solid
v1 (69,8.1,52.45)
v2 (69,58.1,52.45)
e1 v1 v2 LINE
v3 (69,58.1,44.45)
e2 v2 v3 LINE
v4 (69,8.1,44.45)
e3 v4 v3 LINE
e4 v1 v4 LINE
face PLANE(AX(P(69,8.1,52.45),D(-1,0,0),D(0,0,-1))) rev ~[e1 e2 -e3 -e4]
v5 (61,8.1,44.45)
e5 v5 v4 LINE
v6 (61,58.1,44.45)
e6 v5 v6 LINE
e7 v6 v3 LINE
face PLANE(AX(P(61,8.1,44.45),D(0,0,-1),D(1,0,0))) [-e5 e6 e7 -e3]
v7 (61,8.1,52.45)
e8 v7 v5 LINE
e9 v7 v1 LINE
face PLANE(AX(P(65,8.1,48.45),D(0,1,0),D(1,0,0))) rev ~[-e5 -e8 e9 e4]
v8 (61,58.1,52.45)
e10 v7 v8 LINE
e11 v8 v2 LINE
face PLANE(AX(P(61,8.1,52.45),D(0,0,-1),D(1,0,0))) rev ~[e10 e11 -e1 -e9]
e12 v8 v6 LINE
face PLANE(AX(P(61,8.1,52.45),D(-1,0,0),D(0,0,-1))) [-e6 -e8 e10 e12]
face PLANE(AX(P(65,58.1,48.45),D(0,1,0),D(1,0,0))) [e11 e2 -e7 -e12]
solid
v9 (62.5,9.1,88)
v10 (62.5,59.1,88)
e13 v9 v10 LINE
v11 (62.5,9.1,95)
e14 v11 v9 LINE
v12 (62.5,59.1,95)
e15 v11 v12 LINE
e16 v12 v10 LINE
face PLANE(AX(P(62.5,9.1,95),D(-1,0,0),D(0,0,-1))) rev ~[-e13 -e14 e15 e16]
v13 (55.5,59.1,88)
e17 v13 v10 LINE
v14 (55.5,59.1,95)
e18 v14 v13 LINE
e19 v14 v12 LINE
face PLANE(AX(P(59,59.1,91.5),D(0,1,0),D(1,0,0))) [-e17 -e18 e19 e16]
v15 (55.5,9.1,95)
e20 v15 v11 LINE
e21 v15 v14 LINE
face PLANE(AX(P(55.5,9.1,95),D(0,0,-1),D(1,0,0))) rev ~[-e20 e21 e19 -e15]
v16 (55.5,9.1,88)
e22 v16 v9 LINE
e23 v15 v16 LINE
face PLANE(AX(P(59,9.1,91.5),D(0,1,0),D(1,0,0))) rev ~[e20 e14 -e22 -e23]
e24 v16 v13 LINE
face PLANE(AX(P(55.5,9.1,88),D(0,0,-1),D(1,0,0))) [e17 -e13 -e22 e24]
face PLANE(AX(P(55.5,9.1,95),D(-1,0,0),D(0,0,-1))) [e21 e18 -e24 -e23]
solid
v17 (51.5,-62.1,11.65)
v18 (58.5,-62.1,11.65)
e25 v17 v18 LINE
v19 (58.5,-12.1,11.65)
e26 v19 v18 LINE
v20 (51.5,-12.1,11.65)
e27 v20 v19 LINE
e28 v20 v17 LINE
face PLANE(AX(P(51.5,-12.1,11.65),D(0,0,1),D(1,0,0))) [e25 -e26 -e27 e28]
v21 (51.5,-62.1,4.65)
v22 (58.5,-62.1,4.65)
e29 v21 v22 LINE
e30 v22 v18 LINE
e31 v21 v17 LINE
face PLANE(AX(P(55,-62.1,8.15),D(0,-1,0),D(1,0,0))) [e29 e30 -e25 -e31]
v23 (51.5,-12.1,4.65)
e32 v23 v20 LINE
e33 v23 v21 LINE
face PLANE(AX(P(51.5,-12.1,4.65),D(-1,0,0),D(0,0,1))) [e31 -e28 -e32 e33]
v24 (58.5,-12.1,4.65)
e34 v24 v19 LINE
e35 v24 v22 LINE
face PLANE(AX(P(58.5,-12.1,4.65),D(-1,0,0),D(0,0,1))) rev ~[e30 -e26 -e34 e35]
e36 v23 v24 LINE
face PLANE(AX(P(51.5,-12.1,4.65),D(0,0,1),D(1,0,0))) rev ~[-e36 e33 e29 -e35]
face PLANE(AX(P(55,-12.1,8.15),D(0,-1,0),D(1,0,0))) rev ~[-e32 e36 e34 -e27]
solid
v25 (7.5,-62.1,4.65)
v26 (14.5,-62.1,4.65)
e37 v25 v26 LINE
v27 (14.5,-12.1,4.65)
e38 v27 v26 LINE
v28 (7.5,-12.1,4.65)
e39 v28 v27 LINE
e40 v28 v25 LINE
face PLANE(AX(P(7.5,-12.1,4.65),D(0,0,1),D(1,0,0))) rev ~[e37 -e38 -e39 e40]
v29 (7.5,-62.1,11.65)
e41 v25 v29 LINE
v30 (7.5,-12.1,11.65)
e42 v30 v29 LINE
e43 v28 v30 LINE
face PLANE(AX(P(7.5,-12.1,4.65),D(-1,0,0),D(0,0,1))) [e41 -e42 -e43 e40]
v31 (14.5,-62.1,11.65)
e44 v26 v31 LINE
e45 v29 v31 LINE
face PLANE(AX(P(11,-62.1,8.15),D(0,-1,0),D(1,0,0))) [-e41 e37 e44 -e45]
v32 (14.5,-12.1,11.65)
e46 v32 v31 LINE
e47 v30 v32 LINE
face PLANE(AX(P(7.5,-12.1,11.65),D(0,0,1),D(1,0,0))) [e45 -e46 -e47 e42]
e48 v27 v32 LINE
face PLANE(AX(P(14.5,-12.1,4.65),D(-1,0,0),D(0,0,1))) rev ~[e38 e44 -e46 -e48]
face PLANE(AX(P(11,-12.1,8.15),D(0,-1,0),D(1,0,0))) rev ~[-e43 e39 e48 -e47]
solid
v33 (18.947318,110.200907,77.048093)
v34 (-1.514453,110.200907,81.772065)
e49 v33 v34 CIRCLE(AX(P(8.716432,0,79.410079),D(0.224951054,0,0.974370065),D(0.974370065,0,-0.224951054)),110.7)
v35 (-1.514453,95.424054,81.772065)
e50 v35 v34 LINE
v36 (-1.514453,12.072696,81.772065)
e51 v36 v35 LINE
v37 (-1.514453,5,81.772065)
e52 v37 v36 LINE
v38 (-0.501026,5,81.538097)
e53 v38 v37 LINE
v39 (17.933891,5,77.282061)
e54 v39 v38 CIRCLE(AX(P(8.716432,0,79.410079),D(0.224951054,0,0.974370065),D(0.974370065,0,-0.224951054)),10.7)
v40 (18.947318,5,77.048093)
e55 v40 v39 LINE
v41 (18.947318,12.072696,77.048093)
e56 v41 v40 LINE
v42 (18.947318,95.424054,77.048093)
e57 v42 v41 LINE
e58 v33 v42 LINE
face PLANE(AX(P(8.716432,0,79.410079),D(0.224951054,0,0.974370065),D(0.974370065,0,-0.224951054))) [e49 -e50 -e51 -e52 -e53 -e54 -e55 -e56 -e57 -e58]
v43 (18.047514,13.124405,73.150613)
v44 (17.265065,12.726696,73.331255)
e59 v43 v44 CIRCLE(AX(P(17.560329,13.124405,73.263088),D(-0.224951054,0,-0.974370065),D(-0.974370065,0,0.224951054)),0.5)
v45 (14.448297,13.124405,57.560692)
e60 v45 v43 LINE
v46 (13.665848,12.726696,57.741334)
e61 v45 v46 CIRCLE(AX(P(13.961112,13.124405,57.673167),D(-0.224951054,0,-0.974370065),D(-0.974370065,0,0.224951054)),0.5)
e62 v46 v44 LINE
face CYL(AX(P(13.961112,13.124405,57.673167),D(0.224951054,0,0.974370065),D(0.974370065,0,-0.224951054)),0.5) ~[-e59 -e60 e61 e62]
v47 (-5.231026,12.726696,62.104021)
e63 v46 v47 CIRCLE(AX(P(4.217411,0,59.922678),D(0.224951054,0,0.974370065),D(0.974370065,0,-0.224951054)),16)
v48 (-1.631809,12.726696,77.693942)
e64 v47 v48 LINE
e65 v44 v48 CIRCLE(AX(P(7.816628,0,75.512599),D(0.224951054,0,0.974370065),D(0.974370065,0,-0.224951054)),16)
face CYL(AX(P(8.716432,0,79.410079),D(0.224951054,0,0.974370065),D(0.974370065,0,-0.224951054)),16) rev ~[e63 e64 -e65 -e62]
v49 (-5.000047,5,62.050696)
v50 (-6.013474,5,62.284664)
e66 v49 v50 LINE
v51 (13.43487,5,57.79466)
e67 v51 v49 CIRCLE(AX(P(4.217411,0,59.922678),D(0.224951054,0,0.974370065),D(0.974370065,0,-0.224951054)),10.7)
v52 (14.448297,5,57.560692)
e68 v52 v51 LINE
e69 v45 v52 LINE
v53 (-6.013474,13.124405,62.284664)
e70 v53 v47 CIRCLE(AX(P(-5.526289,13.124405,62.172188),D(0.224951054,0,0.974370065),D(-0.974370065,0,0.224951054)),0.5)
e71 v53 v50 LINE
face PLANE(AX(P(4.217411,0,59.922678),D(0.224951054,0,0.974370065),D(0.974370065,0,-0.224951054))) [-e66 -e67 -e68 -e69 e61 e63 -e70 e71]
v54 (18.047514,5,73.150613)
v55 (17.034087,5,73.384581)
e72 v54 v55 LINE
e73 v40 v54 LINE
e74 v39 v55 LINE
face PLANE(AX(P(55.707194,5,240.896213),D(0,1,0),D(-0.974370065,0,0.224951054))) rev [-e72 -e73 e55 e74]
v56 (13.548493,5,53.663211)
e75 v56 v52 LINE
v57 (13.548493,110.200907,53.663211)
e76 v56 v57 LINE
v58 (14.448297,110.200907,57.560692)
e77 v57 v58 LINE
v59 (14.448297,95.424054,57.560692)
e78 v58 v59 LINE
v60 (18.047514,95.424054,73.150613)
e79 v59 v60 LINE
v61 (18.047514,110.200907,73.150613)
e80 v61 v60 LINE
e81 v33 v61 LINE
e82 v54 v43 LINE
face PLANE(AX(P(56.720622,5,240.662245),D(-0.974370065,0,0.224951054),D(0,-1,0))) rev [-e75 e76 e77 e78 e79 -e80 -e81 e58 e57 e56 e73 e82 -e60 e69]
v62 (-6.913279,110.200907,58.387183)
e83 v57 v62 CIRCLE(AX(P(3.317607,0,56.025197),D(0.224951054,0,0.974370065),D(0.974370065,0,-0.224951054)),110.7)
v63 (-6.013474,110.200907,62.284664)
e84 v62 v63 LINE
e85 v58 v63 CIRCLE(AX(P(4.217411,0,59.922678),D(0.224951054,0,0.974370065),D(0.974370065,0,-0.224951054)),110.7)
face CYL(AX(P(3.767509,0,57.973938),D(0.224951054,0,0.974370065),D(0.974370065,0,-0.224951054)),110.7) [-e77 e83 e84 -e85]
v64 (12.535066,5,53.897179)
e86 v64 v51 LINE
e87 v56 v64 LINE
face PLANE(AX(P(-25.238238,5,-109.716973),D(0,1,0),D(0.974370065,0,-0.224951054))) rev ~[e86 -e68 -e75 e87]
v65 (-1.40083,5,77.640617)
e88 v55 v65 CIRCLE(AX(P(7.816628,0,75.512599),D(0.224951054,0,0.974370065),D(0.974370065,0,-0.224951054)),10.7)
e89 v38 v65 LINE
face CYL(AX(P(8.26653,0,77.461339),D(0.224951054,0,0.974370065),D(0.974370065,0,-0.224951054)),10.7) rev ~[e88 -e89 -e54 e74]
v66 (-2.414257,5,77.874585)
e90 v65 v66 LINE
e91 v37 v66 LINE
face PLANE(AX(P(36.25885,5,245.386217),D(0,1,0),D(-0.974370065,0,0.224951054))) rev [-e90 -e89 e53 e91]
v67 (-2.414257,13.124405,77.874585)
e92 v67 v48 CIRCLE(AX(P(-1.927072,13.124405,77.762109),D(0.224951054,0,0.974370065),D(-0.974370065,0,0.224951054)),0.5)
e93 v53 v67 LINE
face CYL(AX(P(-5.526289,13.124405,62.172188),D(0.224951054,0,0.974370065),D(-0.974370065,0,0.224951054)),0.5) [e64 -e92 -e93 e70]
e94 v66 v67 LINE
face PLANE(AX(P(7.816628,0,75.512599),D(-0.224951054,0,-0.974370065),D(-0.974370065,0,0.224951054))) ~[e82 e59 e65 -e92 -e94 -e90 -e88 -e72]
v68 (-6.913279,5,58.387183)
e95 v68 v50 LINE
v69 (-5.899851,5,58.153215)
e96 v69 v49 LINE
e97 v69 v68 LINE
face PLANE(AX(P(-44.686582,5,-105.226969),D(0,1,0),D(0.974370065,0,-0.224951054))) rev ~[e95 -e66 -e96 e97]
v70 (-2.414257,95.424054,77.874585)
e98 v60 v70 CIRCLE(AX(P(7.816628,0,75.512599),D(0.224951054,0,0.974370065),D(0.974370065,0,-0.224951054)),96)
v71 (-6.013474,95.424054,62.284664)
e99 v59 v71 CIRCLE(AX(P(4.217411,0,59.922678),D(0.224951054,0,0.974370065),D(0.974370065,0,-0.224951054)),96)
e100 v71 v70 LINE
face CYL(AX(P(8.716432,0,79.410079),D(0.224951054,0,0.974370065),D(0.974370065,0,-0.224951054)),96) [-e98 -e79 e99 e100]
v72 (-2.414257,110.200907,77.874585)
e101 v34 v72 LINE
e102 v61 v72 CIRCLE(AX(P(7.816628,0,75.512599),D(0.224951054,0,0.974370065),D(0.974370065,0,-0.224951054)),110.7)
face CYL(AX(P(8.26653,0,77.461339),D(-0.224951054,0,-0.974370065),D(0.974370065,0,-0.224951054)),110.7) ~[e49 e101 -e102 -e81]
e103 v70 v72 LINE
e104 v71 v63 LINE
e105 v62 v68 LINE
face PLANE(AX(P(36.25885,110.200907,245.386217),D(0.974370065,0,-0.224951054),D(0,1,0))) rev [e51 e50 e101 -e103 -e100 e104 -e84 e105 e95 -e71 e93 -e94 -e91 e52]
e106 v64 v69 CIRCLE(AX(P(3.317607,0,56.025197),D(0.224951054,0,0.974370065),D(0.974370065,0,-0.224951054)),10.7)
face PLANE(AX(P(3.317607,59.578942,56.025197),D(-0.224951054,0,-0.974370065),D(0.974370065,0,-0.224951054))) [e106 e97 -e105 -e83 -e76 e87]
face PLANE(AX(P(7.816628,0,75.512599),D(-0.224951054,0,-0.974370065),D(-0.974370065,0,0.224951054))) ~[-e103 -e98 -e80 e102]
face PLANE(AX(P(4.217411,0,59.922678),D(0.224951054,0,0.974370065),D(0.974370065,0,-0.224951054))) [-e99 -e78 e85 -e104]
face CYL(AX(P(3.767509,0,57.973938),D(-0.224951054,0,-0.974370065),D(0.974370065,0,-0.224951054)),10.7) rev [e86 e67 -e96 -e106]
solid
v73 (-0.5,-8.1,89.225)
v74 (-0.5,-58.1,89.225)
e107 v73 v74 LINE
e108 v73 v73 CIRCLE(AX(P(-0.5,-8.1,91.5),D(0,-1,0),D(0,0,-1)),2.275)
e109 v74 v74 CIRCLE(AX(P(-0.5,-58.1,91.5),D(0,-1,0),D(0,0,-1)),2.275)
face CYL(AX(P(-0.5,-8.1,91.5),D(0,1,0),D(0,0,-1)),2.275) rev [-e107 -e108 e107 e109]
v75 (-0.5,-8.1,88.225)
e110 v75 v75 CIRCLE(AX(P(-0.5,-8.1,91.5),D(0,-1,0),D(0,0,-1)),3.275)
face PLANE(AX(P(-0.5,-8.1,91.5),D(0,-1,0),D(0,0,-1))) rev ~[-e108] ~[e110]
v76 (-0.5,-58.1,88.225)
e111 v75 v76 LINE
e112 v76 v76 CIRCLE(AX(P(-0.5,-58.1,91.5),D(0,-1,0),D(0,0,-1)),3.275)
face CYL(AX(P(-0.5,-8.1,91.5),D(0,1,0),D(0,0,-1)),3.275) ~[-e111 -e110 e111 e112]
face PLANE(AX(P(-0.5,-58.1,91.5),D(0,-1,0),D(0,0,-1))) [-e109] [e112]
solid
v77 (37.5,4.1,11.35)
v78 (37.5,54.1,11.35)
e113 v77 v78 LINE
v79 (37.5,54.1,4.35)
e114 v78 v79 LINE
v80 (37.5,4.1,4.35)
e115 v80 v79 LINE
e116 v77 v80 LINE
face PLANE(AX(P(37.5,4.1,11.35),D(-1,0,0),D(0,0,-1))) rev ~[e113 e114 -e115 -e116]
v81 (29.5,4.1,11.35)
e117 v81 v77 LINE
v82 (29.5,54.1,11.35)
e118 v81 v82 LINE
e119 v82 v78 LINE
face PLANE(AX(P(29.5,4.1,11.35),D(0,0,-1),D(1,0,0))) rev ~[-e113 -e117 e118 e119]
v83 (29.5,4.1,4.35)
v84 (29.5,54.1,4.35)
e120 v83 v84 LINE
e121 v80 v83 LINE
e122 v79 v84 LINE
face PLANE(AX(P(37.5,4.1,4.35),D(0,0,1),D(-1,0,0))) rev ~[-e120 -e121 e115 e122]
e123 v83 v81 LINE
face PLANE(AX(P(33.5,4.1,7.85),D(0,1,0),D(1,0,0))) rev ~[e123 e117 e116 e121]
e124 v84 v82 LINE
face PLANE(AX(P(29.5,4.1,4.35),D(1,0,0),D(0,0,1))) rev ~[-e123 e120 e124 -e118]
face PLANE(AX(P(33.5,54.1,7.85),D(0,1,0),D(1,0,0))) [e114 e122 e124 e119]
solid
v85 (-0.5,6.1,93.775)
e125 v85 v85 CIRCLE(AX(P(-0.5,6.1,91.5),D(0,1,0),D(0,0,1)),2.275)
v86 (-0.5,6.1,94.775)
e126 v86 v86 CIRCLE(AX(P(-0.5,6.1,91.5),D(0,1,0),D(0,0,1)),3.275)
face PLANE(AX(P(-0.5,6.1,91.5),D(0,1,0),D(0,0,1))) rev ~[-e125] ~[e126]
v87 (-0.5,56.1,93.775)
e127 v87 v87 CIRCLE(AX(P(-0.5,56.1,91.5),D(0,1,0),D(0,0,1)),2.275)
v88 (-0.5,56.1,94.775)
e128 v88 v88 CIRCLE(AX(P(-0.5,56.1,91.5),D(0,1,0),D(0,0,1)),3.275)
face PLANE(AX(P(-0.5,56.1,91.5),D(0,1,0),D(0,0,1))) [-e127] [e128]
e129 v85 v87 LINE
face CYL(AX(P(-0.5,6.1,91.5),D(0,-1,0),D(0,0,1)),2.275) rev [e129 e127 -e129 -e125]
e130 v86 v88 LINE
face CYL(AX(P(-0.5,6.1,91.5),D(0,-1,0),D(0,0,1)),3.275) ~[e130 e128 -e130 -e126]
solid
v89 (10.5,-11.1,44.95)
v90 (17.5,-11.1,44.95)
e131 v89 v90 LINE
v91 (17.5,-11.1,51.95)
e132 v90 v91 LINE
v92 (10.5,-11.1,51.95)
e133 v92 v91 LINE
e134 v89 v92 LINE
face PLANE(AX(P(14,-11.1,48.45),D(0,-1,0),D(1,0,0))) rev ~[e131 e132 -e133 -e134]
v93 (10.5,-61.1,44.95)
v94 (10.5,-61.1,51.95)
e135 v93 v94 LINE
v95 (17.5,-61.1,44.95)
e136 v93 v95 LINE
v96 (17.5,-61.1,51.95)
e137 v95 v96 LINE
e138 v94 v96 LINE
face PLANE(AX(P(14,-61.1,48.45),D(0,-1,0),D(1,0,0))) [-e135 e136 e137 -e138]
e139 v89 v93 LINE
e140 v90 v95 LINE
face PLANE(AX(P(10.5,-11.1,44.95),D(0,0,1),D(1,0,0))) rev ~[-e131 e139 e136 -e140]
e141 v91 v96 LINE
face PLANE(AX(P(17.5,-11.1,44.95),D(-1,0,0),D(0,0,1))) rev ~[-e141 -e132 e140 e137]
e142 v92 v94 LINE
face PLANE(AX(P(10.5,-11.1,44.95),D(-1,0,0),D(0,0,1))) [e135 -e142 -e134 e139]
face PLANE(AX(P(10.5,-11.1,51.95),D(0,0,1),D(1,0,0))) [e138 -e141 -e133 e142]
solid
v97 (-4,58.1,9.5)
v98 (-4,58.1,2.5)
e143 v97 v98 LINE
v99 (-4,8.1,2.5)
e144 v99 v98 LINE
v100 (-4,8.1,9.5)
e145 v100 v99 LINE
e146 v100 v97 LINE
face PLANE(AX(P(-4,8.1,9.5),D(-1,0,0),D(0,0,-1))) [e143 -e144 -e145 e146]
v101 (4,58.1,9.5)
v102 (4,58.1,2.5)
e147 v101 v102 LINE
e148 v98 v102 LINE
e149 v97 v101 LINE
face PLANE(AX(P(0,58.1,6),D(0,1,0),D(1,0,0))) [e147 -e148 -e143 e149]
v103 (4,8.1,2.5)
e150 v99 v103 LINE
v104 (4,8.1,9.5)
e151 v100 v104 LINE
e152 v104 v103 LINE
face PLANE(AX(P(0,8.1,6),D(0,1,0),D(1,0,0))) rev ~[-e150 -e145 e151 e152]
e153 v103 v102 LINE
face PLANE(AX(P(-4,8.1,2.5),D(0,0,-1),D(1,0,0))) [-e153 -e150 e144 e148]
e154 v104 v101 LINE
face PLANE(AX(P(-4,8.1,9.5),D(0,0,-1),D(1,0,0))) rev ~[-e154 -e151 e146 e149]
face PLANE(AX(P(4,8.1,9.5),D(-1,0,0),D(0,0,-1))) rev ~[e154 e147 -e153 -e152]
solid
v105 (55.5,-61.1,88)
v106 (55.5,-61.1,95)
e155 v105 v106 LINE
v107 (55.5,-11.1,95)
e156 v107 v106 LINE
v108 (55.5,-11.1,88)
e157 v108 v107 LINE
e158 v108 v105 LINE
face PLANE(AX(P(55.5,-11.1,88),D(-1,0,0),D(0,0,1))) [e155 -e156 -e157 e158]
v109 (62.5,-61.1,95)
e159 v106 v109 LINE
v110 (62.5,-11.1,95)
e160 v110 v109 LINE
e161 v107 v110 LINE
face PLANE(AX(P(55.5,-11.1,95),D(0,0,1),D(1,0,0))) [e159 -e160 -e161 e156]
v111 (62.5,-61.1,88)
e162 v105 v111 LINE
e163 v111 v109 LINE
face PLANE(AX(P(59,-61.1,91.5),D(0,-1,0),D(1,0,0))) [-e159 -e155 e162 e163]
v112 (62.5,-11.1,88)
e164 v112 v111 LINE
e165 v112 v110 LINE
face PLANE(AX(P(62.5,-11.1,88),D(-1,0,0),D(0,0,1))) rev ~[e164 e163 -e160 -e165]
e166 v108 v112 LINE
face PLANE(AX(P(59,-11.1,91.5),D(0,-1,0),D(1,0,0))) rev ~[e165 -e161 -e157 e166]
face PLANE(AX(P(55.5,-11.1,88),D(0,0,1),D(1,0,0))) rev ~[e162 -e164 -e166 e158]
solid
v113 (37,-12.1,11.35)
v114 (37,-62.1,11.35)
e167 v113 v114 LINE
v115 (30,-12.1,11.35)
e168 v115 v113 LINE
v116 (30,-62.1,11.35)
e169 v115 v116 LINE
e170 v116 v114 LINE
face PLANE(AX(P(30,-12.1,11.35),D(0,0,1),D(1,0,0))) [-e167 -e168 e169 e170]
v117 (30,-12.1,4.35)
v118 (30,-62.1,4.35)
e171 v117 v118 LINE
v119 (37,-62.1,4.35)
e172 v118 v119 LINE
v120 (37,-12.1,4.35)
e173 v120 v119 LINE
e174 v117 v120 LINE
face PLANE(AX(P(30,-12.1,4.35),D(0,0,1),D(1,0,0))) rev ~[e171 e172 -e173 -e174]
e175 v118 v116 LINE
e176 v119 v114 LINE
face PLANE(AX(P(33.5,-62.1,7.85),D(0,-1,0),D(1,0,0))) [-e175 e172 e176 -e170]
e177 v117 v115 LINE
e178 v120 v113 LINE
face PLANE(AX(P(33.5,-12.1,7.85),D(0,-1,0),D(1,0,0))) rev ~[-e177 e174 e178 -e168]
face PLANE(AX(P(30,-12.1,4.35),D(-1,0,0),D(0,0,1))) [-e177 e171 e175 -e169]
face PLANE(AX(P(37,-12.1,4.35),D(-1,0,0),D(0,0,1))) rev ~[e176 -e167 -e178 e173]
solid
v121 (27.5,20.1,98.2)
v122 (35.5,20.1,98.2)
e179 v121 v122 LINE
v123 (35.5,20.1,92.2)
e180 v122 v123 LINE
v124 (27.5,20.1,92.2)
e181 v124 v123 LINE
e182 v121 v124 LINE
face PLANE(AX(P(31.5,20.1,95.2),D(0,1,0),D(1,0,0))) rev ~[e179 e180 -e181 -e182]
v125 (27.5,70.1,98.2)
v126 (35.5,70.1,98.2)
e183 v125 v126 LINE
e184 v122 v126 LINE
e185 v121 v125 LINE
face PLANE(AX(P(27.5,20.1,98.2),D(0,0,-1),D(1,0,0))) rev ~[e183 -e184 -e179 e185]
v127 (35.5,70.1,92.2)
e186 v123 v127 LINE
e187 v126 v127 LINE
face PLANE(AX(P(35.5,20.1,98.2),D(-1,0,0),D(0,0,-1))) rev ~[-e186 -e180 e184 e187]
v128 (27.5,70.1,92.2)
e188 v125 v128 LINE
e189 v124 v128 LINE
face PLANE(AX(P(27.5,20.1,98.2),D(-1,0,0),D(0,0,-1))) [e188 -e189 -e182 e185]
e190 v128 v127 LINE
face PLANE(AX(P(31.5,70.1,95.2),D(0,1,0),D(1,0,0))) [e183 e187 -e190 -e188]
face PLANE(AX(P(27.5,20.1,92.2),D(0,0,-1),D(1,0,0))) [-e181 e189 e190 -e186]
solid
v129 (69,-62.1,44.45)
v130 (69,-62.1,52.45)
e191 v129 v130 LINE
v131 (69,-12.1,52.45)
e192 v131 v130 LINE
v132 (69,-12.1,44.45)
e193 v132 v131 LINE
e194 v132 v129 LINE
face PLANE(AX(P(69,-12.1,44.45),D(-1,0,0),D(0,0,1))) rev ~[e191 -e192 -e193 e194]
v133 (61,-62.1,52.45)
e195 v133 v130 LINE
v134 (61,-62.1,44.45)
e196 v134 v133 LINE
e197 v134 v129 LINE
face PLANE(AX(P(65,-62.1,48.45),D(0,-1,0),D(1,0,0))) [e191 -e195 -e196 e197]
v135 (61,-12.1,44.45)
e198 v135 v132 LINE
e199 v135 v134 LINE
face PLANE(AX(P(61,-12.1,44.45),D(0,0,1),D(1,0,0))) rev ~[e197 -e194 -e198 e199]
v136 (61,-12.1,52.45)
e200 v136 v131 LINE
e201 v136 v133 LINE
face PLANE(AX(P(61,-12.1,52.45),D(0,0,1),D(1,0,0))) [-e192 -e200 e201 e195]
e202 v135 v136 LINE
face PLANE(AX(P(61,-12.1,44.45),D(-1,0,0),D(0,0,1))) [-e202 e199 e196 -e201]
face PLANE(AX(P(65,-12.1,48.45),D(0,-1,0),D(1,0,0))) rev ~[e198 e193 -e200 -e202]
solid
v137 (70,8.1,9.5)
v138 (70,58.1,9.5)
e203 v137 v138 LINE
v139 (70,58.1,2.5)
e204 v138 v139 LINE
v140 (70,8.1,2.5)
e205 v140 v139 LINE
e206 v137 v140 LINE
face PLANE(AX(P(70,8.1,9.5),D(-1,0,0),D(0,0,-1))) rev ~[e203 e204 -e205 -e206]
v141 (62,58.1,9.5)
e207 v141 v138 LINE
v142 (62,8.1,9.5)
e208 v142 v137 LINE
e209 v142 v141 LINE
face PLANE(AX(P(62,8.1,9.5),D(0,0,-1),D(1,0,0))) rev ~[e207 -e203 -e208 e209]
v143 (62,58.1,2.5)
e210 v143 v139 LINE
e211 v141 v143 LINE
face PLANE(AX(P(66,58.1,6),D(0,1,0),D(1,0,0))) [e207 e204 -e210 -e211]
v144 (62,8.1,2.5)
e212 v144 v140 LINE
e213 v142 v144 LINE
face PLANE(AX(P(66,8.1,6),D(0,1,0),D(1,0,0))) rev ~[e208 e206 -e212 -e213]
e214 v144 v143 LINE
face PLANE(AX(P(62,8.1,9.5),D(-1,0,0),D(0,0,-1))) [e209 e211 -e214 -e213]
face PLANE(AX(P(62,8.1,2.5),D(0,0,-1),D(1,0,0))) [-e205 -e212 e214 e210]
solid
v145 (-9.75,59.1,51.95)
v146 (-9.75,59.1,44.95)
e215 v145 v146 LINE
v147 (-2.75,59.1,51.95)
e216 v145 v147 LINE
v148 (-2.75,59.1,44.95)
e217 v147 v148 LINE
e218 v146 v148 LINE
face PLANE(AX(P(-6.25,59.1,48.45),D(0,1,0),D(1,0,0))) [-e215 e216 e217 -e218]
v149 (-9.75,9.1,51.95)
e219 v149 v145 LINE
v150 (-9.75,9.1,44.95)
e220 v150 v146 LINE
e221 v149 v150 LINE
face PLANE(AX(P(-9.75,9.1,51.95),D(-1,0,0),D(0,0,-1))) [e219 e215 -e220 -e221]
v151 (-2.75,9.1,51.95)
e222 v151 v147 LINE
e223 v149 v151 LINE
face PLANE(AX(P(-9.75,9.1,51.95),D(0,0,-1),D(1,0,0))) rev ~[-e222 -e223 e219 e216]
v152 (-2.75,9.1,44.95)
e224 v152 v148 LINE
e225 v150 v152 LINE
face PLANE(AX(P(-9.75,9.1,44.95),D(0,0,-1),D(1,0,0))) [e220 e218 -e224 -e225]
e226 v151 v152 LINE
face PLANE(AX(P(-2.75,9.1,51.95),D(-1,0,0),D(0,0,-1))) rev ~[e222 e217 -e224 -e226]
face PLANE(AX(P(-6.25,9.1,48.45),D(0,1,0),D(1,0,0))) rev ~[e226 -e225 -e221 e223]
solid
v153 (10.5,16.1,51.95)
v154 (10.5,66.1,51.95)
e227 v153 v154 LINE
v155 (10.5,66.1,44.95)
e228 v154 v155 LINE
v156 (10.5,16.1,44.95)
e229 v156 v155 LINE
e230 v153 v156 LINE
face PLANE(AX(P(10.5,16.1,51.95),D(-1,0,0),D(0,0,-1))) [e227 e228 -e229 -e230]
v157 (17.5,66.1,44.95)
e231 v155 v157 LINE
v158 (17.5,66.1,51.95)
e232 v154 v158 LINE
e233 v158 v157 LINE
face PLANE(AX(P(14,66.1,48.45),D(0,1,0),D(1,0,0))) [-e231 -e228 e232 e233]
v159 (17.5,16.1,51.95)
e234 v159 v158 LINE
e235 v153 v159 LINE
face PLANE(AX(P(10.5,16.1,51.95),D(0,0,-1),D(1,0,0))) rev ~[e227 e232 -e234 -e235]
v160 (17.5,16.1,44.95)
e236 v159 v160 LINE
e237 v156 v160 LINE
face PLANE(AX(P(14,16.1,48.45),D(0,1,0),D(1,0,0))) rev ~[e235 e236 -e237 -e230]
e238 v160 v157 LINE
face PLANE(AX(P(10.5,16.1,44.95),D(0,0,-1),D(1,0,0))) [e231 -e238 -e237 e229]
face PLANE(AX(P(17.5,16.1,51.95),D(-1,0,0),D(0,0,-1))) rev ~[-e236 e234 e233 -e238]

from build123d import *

# Parameters (mm, degrees)
BOSS_EXTRUDE1_START     = 0.1
SKETCH1_W               = 8
SKETCH1_H               = 7
BOSS_EXTRUDE1_DEPTH     = 50
BOSS_EXTRUDE1_2_DEPTH   = 50
BOSS_EXTRUDE2_START     = 0.1
BOSS_EXTRUDE2_DEPTH     = 50
BOSS_EXTRUDE3_START     = 0.1
SKETCH3_W               = 7
SKETCH3_H               = 7
BOSS_EXTRUDE3_DEPTH     = 50
BOSS_EXTRUDE4_START     = 0.1
SKETCH4_W               = 7
SKETCH4_H               = 7
BOSS_EXTRUDE4_DEPTH     = 50
BOSS_EXTRUDE5_START     = 0.1
SKETCH5_W               = 8
SKETCH5_H               = 8
BOSS_EXTRUDE5_DEPTH     = 50
BOSS_EXTRUDE6_START     = 0.1
SKETCH6_W               = 7
SKETCH6_H               = 7
BOSS_EXTRUDE6_DEPTH     = 50
BOSS_EXTRUDE7_START     = 0.1
SKETCH7_W               = 8
SKETCH7_H               = 6
BOSS_EXTRUDE7_DEPTH     = 50
BOSS_EXTRUDE8_START     = 0.1
SKETCH8_R               = 3.275
SKETCH8_R_2             = 2.275
BOSS_EXTRUDE8_DEPTH     = 50
BOSS_EXTRUDE9_START     = 0.1
SKETCH9_W               = 7
SKETCH9_H               = 7
BOSS_EXTRUDE9_DEPTH     = 50
BOSS_EXTRUDE9_2_DEPTH   = 50
BOSS_EXTRUDE9_3_DEPTH   = 50
SKETCH9_W_2             = 8
SKETCH9_H_2             = 8
BOSS_EXTRUDE9_4_DEPTH   = 50
BOSS_EXTRUDE10_START    = 0.1
SKETCH10_W              = 7
SKETCH10_H              = 7
BOSS_EXTRUDE10_DEPTH    = 50
BOSS_EXTRUDE10_2_DEPTH  = 50
BOSS_EXTRUDE11_START    = 0.1
SKETCH11_R              = 3.275
SKETCH11_R_2            = 2.275
BOSS_EXTRUDE11_DEPTH    = 50
SKETCH12_R              = 110.7
SKETCH12_R_2            = 10.7
EXTRUDE_THIN1_DEPTH     = 2
CUT_EXTRUDE1_DEPTH      = 171.917876699
CUT_EXTRUDE1_DEPTH_BACK = 171.917876699
EXTRUDE_THIN2_REACH     = 145.422
SKETCH14_R              = 96
SKETCH14_R_2            = 16
CUT_EXTRUDE2_DEPTH      = 162.371816697
CUT_EXTRUDE2_DEPTH_BACK = 162.371816697
FILLET1_R               = 0.5


with BuildPart() as part:
    # Sketch1 → Boss-Extrude1 (new body)
    with BuildSketch(Plane(origin=(0, 8, 0), x_dir=(1, 0, 0), z_dir=(0, 1, 0)).offset(BOSS_EXTRUDE1_START)):
        with Locations((0, -6)):
            Rectangle(SKETCH1_W, SKETCH1_H)
    extrude(amount=BOSS_EXTRUDE1_DEPTH)


with BuildPart() as body_2:
    # Sketch1 → Boss-Extrude1 2 (new body)
    with BuildSketch(Plane(origin=(0, 8, 0), x_dir=(1, 0, 0), z_dir=(0, 1, 0)).offset(BOSS_EXTRUDE1_START)):
        with Locations((66, -6)):
            Rectangle(SKETCH1_W, SKETCH1_H)
    extrude(amount=BOSS_EXTRUDE1_2_DEPTH)


with BuildPart() as body_3:
    # Sketch2 → Boss-Extrude2 (new body)
    with BuildSketch(Plane(origin=(0, 4, 0), x_dir=(1, 0, 0), z_dir=(0, 1, 0)).offset(BOSS_EXTRUDE2_START)):
        Polygon((37.5, -11.35), (37.5, -4.35), (29.5, -4.35), (29.5, -11.35), (33.75, -11.35), align=None)
    extrude(amount=BOSS_EXTRUDE2_DEPTH)


with BuildPart() as body_4:
    # Sketch3 → Boss-Extrude3 (new body)
    with BuildSketch(Plane(origin=(0, 9, 0), x_dir=(1, 0, 0), z_dir=(0, 1, 0)).offset(BOSS_EXTRUDE3_START)):
        with Locations((-6.25, -48.45)):
            Rectangle(SKETCH3_W, SKETCH3_H)
    extrude(amount=BOSS_EXTRUDE3_DEPTH)


with BuildPart() as body_5:
    # Sketch4 → Boss-Extrude4 (new body)
    with BuildSketch(Plane(origin=(0, 16, 0), x_dir=(1, 0, 0), z_dir=(0, 1, 0)).offset(BOSS_EXTRUDE4_START)):
        with Locations((14, -48.45)):
            Rectangle(SKETCH4_W, SKETCH4_H)
    extrude(amount=BOSS_EXTRUDE4_DEPTH)


with BuildPart() as body_6:
    # Sketch5 → Boss-Extrude5 (new body)
    with BuildSketch(Plane(origin=(0, 8, 0), x_dir=(1, 0, 0), z_dir=(0, 1, 0)).offset(BOSS_EXTRUDE5_START)):
        with Locations((65, -48.45)):
            Rectangle(SKETCH5_W, SKETCH5_H)
    extrude(amount=BOSS_EXTRUDE5_DEPTH)


with BuildPart() as body_7:
    # Sketch6 → Boss-Extrude6 (new body)
    with BuildSketch(Plane(origin=(0, 9, 0), x_dir=(1, 0, 0), z_dir=(0, 1, 0)).offset(BOSS_EXTRUDE6_START)):
        with Locations((59, -91.5)):
            Rectangle(SKETCH6_W, SKETCH6_H)
    extrude(amount=BOSS_EXTRUDE6_DEPTH)


with BuildPart() as body_8:
    # Sketch7 → Boss-Extrude7 (new body)
    with BuildSketch(Plane(origin=(0, 20, 0), x_dir=(1, 0, 0), z_dir=(0, 1, 0)).offset(BOSS_EXTRUDE7_START)):
        with Locations((31.5, -95.2)):
            Rectangle(SKETCH7_W, SKETCH7_H)
    extrude(amount=BOSS_EXTRUDE7_DEPTH)


with BuildPart() as body_9:
    # Sketch8 → Boss-Extrude8 (new body)
    with BuildSketch(Plane(origin=(0, 6, 0), x_dir=(1, 0, 0), z_dir=(0, 1, 0)).offset(BOSS_EXTRUDE8_START)):
        with Locations(Location((-0.5, -91.5, 0), (0, 0, 270))):
            Circle(SKETCH8_R)
        with Locations(Location((-0.5, -91.5, 0), (0, 0, 270))):
            Circle(SKETCH8_R_2, mode=Mode.SUBTRACT)
    extrude(amount=BOSS_EXTRUDE8_DEPTH)


with BuildPart() as body_10:
    # Sketch9 → Boss-Extrude9 (new body)
    with BuildSketch(Plane.XZ.offset(12).offset(BOSS_EXTRUDE9_START)):
        with Locations((11, 8.15)):
            Rectangle(SKETCH9_W, SKETCH9_H)
    extrude(amount=BOSS_EXTRUDE9_DEPTH)


with BuildPart() as body_11:
    # Sketch9 → Boss-Extrude9 2 (new body)
    with BuildSketch(Plane.XZ.offset(12).offset(BOSS_EXTRUDE9_START)):
        with Locations((33.5, 7.85)):
            Rectangle(SKETCH9_W, SKETCH9_H)
    extrude(amount=BOSS_EXTRUDE9_2_DEPTH)


with BuildPart() as body_12:
    # Sketch9 → Boss-Extrude9 3 (new body)
    with BuildSketch(Plane.XZ.offset(12).offset(BOSS_EXTRUDE9_START)):
        with Locations((55, 8.15)):
            Rectangle(SKETCH9_W, SKETCH9_H)
    extrude(amount=BOSS_EXTRUDE9_3_DEPTH)


with BuildPart() as body_13:
    # Sketch9 → Boss-Extrude9 4 (new body)
    with BuildSketch(Plane.XZ.offset(12).offset(BOSS_EXTRUDE9_START)):
        with Locations((65, 48.45)):
            Rectangle(SKETCH9_W_2, SKETCH9_H_2)
    extrude(amount=BOSS_EXTRUDE9_4_DEPTH)


with BuildPart() as body_14:
    # Sketch10 → Boss-Extrude10 (new body)
    with BuildSketch(Plane.XZ.offset(11).offset(BOSS_EXTRUDE10_START)):
        with Locations((59, 91.5)):
            Rectangle(SKETCH10_W, SKETCH10_H)
    extrude(amount=BOSS_EXTRUDE10_DEPTH)


with BuildPart() as body_15:
    # Sketch10 → Boss-Extrude10 2 (new body)
    with BuildSketch(Plane.XZ.offset(11).offset(BOSS_EXTRUDE10_START)):
        with Locations((14, 48.45)):
            Rectangle(SKETCH10_W, SKETCH10_H)
    extrude(amount=BOSS_EXTRUDE10_2_DEPTH)


with BuildPart() as body_16:
    # Sketch11 → Boss-Extrude11 (new body)
    with BuildSketch(Plane.XZ.offset(8).offset(BOSS_EXTRUDE11_START)):
        with Locations(Location((-0.5, 91.5, 0), (0, 0, 270))):
            Circle(SKETCH11_R)
        with Locations(Location((-0.5, 91.5, 0), (0, 0, 270))):
            Circle(SKETCH11_R_2, mode=Mode.SUBTRACT)
    extrude(amount=BOSS_EXTRUDE11_DEPTH)


with BuildPart() as body_17:
    # Sketch12 → Extrude-Thin1 (new, symmetric)
    with BuildSketch(Plane(origin=(12.897697924, 0, 55.866067389), x_dir=(0.9743700647852346, 0, -0.224951054343868), z_dir=(0.224951054343868, -1.1551564284111033e-15, 0.9743700647852346))):
        with Locations((-9.370350163, 0)):
            Circle(SKETCH12_R)
        with Locations((-9.370350163, 0)):
            Circle(SKETCH12_R_2, mode=Mode.SUBTRACT)
    extrude(amount=EXTRUDE_THIN1_DEPTH, both=True)

    # Sketch13 → Cut-Extrude1 (cut, two sides: drawn at the far end of the back side and taken through both)
    with BuildSketch(Plane(origin=(13.347600032, 0, 57.814807519), x_dir=(0.9743700647852346, 0, -0.224951054343868), z_dir=(0.224951054343868, -1.1551564284111033e-15, 0.9743700647852346)).offset(-CUT_EXTRUDE1_DEPTH_BACK)):
        with BuildLine():
            Line((0.08956527, 5), (1.129649837, 5))
            Line((1.129649837, 5), (1.129649837, 110.200907437))
            ThreePointArc((1.129649837, 110.200907437), (-9.370350163, -110.7), (-19.870350163, 110.200907437))
            Line((-19.870350163, 110.200907437), (-19.870350163, 5))
            Line((-19.870350163, 5), (-18.830265596, 5))
            ThreePointArc((-18.830265596, 5), (-9.370350163, 10.7), (0.08956527, 5))
        make_face()
    extrude(amount=CUT_EXTRUDE1_DEPTH + CUT_EXTRUDE1_DEPTH_BACK, mode=Mode.SUBTRACT)


with BuildPart() as body_18:
    # Mirror1: mirrored copy
    add(body_17.part.mirror(Plane(origin=(15.147208467, 0, 65.609768037), x_dir=(0.9743700647852344, 0, -0.22495105434386872), z_dir=(0.22495105434386872, 0, 0.9743700647852345))))


with BuildPart() as body_17_1:
    add(body_17.part)

    # Extrude-Thin2: up to this face of the body (flat: up to its plane)
    extrude_thin2_end = Plane(body_17_1.part.faces().sort_by_distance((3.31760712, 59.578942419, 56.025197409))[0])
    # Sketch14 → Extrude-Thin2 (add, up to the picked face)
    with BuildSketch(Plane(origin=(17.846621119, 0, 77.302208815), x_dir=(0.9743700647852342, 0, -0.2249510543438694), z_dir=(0.22495105434386936, 0, 0.9743700647852341)), mode=Mode.PRIVATE) as extrude_thin2_sk1:
        with Locations((-9.370350163, 0)):
            Circle(SKETCH14_R)
        with Locations((-9.370350163, 0)):
            Circle(SKETCH14_R_2, mode=Mode.SUBTRACT)
    extrude_thin2_tool1 = split(extrude(extrude_thin2_sk1.sketch, amount=-EXTRUDE_THIN2_REACH, mode=Mode.PRIVATE), bisect_by=extrude_thin2_end, keep=Keep.BOTH, mode=Mode.PRIVATE)

    add(body_18.part)  # Extrude-Thin2 merges body 18
    add(extrude_thin2_tool1.solids().sort_by(Axis((-82.177396, 0, 100.394573), (-0.22495105434386936, 0, -0.9743700647852341)))[0])

    # Sketch13<3> → Cut-Extrude2 (cut, two sides: drawn at the far end of the back side and taken through both)
    with BuildSketch(Plane(origin=(13.347600032, 0, 57.814807519), x_dir=(0.9743700647852346, 0, -0.224951054343868), z_dir=(0.224951054343868, -1.1551564284111033e-15, 0.9743700647852346)).offset(-CUT_EXTRUDE2_DEPTH_BACK)):
        with BuildLine():
            Line((0.08956527, 5), (1.129649837, 5))
            Line((1.129649837, 5), (1.129649837, 110.200907437))
            ThreePointArc((1.129649837, 110.200907437), (-9.370350163, -110.7), (-19.870350163, 110.200907437))
            Line((-19.870350163, 110.200907437), (-19.870350163, 5))
            Line((-19.870350163, 5), (-18.830265596, 5))
            ThreePointArc((-18.830265596, 5), (-9.370350163, 10.7), (0.08956527, 5))
        make_face()
    extrude(amount=CUT_EXTRUDE2_DEPTH + CUT_EXTRUDE2_DEPTH_BACK, mode=Mode.SUBTRACT)

    # Fillet1
    fillet1_edges = [body_17_1.edges().sort_by_distance(p)[0] for p in [
        (16.247905452, 12.072696468, 65.355652115),
        (-4.213865908, 12.072696468, 70.079624257),
    ]]
    fillet(fillet1_edges, radius=FILLET1_R)


solid = Compound([part.part, body_2.part, body_3.part, body_4.part, body_5.part, body_6.part, body_7.part, body_8.part, body_9.part, body_10.part, body_11.part, body_12.part, body_13.part, body_14.part, body_15.part, body_16.part, body_17_1.part])
